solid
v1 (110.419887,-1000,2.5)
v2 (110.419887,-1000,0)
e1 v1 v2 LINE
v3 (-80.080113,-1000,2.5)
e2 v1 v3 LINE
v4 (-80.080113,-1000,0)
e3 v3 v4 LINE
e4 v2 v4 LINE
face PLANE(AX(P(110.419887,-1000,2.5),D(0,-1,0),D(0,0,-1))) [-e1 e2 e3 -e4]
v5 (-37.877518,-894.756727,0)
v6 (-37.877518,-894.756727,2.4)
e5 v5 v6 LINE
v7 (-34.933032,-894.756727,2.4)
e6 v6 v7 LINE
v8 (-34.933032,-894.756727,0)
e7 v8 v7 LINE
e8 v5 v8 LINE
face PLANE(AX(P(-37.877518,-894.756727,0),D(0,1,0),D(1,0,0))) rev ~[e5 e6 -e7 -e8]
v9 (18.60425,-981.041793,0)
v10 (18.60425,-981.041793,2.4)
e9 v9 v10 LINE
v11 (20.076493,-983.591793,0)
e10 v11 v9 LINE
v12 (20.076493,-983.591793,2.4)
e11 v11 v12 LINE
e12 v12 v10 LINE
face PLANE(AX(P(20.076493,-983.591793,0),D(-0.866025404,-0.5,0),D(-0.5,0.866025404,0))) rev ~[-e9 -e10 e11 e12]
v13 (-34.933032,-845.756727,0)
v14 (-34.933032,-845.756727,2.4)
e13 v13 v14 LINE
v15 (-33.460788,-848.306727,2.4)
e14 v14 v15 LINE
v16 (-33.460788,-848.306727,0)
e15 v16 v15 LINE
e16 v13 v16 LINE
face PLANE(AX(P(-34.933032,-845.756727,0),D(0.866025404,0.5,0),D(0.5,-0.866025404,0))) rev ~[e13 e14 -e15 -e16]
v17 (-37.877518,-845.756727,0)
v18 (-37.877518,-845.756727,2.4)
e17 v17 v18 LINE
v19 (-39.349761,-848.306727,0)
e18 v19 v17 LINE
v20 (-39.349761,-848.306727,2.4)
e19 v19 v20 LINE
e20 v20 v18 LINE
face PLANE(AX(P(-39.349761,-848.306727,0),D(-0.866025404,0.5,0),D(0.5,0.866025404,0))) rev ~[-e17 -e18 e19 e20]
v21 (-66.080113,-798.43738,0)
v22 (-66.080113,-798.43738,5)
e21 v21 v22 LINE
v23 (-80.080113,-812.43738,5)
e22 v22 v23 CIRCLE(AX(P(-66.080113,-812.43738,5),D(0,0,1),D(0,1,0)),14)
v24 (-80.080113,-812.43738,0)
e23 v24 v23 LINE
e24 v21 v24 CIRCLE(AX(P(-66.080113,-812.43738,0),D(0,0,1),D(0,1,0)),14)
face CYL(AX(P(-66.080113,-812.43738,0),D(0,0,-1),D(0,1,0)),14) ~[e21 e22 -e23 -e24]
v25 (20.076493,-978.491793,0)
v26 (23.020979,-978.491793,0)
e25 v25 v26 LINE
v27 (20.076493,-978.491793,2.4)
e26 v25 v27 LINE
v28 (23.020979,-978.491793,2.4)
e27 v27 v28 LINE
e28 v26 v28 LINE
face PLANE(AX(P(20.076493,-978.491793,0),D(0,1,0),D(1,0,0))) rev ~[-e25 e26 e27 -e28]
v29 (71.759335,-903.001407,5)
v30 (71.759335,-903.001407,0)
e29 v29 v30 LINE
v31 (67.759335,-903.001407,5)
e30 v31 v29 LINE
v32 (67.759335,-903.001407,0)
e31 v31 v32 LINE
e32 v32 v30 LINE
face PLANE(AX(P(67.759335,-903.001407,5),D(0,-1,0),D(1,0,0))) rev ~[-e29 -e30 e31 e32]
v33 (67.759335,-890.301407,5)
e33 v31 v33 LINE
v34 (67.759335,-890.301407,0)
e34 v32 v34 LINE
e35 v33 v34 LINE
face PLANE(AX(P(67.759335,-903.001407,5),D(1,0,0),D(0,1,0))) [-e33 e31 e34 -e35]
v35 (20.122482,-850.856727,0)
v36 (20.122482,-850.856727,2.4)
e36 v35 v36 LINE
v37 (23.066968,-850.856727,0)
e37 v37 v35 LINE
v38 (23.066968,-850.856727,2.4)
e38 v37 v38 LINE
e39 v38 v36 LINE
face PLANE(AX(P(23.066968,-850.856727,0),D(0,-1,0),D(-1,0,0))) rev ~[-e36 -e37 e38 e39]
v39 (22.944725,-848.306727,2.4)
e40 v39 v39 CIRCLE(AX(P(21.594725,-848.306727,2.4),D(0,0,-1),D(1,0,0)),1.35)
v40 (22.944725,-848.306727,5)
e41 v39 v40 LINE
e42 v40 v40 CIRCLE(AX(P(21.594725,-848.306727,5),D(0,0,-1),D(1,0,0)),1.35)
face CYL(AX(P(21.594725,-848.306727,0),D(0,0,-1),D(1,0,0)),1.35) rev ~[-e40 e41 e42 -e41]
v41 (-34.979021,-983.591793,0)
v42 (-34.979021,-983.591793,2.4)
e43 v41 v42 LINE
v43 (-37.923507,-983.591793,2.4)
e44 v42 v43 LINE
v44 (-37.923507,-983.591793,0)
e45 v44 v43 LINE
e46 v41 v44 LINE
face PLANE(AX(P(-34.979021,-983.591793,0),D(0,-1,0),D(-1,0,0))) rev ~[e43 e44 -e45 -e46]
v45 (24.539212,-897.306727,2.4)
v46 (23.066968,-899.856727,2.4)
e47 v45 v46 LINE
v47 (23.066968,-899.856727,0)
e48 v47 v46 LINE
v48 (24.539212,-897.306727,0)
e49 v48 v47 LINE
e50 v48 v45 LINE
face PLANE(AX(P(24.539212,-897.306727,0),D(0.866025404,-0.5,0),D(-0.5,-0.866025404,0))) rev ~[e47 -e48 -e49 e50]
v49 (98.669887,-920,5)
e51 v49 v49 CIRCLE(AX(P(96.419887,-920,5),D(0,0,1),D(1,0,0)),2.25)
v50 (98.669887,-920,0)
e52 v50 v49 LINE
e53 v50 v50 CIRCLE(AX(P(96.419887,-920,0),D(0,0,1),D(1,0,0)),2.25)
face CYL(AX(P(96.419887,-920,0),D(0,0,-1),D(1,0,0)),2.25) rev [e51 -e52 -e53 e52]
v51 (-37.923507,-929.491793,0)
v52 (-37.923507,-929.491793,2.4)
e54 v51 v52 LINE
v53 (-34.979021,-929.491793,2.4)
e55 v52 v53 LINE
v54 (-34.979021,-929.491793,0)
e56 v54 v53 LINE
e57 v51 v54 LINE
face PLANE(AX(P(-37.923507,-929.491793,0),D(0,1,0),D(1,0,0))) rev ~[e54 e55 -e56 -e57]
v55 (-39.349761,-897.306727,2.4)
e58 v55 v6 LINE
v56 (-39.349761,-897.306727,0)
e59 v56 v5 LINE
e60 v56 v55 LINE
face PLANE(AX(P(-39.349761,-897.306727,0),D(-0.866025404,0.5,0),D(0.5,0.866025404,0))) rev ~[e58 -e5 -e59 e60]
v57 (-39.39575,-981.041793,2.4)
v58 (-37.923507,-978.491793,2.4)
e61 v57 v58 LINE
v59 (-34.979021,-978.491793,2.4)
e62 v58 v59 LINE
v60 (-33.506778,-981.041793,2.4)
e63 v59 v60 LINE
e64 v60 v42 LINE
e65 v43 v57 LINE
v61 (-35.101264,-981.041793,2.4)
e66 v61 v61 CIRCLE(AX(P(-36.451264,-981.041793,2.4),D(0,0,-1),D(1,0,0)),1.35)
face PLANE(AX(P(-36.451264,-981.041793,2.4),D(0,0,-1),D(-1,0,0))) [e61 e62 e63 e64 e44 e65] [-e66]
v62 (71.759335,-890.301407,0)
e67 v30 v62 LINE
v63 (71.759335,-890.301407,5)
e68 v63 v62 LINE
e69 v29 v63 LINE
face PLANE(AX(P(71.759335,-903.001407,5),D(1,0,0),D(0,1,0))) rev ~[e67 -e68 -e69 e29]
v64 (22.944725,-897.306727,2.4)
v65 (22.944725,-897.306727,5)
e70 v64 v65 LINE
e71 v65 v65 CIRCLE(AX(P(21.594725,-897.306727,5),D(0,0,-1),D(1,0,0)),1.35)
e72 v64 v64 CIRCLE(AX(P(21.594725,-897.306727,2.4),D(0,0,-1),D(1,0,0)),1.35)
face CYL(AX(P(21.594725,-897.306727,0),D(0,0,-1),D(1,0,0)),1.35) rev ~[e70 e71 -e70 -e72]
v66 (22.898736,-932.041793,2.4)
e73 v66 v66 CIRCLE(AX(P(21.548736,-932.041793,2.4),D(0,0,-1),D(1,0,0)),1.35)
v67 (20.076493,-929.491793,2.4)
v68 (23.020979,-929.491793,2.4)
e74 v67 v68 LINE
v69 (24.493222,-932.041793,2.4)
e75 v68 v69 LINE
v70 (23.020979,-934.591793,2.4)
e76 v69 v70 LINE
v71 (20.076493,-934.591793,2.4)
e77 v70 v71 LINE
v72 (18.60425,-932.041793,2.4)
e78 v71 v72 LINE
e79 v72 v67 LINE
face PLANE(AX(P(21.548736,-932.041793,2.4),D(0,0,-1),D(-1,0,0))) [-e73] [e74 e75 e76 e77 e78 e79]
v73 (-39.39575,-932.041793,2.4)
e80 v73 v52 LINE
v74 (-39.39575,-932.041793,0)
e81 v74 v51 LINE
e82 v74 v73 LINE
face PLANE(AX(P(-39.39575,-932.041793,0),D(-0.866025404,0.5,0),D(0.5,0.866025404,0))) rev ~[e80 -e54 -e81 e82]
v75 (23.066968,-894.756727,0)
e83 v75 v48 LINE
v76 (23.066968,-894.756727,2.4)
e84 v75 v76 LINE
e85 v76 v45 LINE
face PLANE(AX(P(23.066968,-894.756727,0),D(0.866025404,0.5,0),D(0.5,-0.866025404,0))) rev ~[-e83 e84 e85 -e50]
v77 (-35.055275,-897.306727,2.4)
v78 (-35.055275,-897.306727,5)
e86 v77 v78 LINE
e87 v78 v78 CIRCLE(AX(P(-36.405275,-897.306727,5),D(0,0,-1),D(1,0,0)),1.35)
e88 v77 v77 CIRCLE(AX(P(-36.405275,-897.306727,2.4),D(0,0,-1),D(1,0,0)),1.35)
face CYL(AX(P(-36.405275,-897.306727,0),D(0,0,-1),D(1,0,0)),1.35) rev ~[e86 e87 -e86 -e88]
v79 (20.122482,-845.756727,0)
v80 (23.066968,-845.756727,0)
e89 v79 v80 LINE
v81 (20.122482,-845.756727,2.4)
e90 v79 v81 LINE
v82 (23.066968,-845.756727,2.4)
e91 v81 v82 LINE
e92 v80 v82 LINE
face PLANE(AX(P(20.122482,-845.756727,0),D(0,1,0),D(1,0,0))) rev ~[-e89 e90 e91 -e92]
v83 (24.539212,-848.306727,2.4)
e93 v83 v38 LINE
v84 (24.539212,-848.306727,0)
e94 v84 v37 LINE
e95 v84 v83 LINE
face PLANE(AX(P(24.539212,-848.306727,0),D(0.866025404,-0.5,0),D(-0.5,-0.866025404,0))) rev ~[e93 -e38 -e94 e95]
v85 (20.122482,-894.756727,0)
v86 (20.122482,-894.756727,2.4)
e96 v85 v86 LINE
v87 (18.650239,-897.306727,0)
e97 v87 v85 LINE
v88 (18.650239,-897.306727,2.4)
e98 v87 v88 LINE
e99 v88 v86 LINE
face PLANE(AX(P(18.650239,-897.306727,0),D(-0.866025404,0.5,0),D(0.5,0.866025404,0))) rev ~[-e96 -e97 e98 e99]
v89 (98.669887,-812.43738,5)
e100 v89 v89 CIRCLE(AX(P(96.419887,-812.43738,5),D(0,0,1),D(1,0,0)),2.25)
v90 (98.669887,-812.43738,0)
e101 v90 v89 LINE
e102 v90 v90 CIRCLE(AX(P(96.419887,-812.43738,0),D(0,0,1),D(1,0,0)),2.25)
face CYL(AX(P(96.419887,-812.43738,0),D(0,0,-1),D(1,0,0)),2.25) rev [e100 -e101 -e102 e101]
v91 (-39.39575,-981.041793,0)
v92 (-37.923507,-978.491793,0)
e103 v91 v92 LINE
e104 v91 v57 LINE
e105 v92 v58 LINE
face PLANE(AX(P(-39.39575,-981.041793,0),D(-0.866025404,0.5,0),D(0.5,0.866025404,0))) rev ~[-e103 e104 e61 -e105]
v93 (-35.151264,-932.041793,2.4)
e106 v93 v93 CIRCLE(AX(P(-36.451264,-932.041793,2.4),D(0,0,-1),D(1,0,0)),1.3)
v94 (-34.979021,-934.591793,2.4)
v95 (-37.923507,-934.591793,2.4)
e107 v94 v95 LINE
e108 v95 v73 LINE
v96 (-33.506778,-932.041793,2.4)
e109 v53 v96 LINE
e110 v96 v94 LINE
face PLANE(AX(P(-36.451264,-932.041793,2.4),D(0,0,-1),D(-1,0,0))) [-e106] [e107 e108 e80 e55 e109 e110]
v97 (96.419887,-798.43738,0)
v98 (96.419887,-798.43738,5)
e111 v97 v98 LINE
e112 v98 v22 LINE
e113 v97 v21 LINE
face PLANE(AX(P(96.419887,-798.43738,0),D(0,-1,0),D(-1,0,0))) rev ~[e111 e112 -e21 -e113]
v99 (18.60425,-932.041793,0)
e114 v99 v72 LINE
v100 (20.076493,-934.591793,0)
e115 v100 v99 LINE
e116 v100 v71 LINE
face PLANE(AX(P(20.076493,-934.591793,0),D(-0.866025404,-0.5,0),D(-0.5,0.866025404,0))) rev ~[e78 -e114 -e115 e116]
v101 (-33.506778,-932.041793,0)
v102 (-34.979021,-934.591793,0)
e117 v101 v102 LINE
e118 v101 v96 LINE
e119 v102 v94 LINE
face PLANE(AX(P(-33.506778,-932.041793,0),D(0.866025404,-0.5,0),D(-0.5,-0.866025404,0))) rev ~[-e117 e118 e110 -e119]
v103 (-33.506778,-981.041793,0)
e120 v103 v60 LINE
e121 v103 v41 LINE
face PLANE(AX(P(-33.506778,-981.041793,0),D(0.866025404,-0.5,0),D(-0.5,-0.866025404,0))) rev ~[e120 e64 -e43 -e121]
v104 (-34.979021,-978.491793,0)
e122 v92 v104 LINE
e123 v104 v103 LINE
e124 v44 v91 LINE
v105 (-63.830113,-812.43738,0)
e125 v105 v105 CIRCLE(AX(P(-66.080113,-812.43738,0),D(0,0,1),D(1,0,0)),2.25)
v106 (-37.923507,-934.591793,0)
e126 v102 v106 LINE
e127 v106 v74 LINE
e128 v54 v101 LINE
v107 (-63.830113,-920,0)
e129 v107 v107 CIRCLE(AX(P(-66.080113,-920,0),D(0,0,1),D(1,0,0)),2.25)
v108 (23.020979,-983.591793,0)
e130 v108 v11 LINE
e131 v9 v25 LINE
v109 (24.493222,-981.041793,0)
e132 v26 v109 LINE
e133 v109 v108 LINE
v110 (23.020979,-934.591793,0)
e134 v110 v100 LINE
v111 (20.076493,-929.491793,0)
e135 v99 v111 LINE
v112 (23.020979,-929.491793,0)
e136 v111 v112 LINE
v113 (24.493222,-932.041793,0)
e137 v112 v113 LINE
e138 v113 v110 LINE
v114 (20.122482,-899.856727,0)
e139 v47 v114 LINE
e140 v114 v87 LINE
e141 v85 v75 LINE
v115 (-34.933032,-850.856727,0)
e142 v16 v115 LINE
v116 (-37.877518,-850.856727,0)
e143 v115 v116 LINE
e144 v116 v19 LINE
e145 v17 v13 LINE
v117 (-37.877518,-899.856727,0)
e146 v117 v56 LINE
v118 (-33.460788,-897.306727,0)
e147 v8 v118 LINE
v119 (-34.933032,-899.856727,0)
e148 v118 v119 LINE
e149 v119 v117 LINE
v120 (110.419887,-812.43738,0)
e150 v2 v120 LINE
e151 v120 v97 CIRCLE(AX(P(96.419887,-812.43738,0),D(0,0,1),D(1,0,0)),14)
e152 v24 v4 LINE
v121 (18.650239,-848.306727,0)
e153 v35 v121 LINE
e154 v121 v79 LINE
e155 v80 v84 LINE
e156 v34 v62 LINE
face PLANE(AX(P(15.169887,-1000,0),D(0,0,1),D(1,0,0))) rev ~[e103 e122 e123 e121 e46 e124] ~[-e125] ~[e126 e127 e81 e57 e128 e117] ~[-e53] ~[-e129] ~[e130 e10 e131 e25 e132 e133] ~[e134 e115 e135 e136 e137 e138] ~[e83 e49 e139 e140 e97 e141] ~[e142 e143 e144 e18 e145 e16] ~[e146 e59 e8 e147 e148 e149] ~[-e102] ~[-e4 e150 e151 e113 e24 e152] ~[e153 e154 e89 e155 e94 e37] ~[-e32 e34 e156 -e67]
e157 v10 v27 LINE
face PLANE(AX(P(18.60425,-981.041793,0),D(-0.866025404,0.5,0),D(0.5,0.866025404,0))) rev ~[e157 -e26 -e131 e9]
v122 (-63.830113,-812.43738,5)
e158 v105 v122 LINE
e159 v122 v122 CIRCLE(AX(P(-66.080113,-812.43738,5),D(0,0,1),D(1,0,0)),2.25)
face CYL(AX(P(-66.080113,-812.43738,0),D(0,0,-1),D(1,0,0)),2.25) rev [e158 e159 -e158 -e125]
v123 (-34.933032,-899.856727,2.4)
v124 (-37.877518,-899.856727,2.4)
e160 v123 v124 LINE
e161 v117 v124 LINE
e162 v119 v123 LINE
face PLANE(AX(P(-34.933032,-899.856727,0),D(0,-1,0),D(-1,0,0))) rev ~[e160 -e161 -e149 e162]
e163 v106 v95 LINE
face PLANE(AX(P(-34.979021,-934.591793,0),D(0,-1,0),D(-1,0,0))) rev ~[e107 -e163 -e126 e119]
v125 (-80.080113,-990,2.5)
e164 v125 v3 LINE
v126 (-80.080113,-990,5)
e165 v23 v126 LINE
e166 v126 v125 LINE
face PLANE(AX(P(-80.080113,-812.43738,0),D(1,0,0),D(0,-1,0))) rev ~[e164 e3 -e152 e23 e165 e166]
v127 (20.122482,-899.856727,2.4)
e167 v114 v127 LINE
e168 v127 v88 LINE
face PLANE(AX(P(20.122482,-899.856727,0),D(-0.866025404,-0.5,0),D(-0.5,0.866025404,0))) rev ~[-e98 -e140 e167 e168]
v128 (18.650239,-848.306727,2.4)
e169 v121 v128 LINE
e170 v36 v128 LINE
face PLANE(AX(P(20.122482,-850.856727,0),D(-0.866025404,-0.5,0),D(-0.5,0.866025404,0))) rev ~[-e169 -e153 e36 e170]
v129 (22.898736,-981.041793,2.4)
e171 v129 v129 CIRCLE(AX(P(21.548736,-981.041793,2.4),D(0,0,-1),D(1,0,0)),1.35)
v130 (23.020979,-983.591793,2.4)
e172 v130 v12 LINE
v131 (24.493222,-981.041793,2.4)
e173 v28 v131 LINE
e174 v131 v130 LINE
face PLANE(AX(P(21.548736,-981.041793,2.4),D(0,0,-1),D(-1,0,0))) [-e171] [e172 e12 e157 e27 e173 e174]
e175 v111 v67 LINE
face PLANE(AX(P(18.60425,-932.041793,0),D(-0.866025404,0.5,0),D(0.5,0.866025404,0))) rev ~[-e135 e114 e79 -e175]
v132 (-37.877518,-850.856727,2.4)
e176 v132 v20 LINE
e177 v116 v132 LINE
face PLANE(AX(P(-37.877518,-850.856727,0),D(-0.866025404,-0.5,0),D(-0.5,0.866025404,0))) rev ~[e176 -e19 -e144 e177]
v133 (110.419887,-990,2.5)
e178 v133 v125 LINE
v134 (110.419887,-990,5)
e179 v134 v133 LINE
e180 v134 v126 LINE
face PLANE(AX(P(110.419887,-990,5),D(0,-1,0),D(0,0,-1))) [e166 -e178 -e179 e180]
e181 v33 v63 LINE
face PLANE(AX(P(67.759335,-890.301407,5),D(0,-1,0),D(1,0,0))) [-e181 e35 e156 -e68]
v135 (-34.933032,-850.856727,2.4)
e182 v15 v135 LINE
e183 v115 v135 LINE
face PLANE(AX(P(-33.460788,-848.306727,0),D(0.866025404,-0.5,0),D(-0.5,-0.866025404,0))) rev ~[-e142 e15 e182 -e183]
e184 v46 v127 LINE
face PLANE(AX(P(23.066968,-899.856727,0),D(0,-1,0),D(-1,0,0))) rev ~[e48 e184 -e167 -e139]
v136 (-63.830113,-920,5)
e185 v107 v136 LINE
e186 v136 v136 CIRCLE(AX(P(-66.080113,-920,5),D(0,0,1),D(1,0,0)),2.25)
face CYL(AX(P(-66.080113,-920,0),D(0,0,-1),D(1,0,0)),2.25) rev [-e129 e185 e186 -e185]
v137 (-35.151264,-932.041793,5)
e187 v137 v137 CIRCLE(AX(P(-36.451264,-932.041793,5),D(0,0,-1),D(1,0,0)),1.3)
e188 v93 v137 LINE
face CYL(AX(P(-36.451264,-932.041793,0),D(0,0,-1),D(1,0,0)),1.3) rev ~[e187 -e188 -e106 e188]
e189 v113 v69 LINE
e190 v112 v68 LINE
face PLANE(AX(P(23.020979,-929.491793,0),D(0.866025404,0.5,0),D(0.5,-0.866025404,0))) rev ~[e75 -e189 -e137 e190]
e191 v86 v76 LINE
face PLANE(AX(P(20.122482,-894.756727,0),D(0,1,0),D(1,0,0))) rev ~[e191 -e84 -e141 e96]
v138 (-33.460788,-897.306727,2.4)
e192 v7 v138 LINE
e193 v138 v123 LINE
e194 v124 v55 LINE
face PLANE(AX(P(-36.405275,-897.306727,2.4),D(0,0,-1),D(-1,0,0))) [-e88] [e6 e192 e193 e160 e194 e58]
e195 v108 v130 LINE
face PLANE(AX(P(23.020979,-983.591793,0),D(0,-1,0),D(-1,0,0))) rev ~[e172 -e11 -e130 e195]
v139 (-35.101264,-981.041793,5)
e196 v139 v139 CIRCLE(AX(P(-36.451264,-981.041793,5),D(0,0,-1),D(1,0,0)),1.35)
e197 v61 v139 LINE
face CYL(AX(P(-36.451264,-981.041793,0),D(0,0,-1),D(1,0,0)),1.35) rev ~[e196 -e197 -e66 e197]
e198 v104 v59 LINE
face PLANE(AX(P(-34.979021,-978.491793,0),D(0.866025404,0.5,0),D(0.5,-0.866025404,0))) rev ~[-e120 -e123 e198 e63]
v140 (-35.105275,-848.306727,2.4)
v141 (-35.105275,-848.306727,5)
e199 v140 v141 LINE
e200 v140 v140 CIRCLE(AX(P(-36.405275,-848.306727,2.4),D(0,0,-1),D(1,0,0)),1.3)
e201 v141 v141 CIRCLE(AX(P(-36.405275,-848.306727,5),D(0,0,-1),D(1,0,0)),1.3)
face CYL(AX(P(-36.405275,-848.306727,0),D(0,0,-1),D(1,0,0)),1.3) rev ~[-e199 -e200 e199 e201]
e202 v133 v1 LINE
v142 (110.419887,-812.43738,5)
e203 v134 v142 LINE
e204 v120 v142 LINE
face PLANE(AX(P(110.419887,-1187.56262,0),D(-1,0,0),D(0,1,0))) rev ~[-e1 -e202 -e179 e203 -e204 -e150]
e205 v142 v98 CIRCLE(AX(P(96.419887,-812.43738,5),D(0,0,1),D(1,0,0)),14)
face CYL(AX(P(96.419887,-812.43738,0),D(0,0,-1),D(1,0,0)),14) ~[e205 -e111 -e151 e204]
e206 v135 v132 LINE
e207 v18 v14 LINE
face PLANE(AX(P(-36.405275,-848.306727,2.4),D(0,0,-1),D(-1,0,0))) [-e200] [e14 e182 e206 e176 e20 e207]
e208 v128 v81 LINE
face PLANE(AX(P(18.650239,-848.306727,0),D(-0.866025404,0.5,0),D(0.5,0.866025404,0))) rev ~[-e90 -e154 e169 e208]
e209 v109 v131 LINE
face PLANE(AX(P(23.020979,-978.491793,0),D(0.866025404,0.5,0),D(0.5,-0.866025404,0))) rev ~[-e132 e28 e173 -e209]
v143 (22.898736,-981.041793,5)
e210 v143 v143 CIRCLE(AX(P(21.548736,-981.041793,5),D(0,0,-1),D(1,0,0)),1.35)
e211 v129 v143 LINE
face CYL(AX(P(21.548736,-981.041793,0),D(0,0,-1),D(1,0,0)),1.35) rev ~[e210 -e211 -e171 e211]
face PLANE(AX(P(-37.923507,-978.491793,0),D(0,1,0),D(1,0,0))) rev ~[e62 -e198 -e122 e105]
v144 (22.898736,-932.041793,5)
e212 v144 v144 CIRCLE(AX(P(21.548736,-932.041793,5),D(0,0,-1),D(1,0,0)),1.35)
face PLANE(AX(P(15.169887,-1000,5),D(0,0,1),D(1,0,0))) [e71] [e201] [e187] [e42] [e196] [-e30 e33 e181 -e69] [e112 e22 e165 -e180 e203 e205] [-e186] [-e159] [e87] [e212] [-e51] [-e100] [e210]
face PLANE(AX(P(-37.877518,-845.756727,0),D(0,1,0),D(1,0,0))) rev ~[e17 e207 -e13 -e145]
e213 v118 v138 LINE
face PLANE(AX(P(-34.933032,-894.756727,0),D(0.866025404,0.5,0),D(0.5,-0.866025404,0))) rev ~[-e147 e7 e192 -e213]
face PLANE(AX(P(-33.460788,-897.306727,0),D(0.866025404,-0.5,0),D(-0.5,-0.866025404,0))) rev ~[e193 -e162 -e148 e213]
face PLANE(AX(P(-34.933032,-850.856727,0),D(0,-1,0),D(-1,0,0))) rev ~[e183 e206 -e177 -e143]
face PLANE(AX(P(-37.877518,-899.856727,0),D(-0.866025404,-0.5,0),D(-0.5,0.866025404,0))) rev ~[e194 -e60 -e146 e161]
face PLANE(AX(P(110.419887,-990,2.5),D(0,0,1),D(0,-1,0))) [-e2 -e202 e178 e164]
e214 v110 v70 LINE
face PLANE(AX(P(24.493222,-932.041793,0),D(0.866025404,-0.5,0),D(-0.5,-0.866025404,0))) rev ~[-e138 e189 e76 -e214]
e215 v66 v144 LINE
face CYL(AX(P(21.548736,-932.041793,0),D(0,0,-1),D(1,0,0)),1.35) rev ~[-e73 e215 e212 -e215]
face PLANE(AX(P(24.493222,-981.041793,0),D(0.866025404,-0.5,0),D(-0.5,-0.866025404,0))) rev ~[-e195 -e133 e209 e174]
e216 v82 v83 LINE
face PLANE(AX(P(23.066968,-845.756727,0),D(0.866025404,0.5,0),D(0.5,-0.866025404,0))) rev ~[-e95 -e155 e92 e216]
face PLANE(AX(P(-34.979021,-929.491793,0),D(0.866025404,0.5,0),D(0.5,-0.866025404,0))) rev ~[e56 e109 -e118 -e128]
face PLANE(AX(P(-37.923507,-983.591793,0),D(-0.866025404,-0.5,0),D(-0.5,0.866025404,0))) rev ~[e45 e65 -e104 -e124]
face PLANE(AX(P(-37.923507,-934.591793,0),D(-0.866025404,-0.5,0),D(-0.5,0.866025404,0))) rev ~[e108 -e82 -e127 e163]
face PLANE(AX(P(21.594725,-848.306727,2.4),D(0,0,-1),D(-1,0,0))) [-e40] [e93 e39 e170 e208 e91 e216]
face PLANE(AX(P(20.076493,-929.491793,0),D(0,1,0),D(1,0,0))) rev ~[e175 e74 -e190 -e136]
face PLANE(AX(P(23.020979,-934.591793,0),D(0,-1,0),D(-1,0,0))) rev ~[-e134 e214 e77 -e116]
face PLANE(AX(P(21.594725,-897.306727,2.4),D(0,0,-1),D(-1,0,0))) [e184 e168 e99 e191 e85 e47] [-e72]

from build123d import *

# Parameters (mm, degrees)
SKETCH4_R           = 2.25
SKETCH4_R_2         = 7.9375
BOSS_EXTRUDE1_DEPTH = 5
CUT_EXTRUDE1_DEPTH  = 191.5
SKETCH8_R           = 1.35
SKETCH8_R_2         = 1.3
CUT_EXTRUDE2_DEPTH  = 6
SKETCH9_R           = 1.35
SKETCH9_R_2         = 1.3
CUT_EXTRUDE3_DEPTH  = 6
CUT_EXTRUDE4_DEPTH  = 2.4
SKETCH12_W          = 4
SKETCH12_H          = 12.7
CUT_EXTRUDE5_DEPTH  = 6


with BuildPart() as part:
    # Sketch4 → Boss-Extrude1 (new body)
    with BuildSketch(Plane.XY):
        with BuildLine():
            Line((-66.080112923, -1201.56262), (96.419887077, -1201.56262))
            ThreePointArc((96.419887077, -1201.56262), (106.319382013, -1197.462114937), (110.419887077, -1187.56262))
            Line((110.419887077, -1187.56262), (110.419887077, -812.43738))
            ThreePointArc((110.419887077, -812.43738), (106.319382013, -802.537885063), (96.419887077, -798.43738))
            Line((96.419887077, -798.43738), (-66.080112923, -798.43738))
            ThreePointArc((-66.080112923, -798.43738), (-75.97960786, -802.537885063), (-80.080112923, -812.43738))
            Line((-80.080112923, -812.43738), (-80.080112923, -1187.56262))
            ThreePointArc((-80.080112923, -1187.56262), (-75.97960786, -1197.462114937), (-66.080112923, -1201.56262))
        make_face()
        with Locations((96.419887077, -1080)):
            Circle(SKETCH4_R, mode=Mode.SUBTRACT)
        with Locations((88.147808187, -1029.0799835)):
            Circle(SKETCH4_R_2, mode=Mode.SUBTRACT)
        with Locations((-66.080112923, -1080)):
            Circle(SKETCH4_R, mode=Mode.SUBTRACT)
        with Locations((96.419887077, -920)):
            Circle(SKETCH4_R, mode=Mode.SUBTRACT)
        with Locations((-66.080112923, -920)):
            Circle(SKETCH4_R, mode=Mode.SUBTRACT)
        with Locations((-66.080112923, -1187.56262)):
            Circle(SKETCH4_R, mode=Mode.SUBTRACT)
        with Locations((96.419887077, -1187.56262)):
            Circle(SKETCH4_R, mode=Mode.SUBTRACT)
        with Locations((-66.080112923, -812.43738)):
            Circle(SKETCH4_R, mode=Mode.SUBTRACT)
        with Locations((96.419887077, -812.43738)):
            Circle(SKETCH4_R, mode=Mode.SUBTRACT)
    extrude(amount=BOSS_EXTRUDE1_DEPTH)

    # Sketch5 → Cut-Extrude1 (cut, through all)
    with BuildSketch(Plane(origin=(110.419887077, 0, 0), x_dir=(0, 0, -1), z_dir=(1, 0, 0))):
        Polygon((-2.5, -990), (-2.5, -1000), (0, -1000), (105.330135386, -1133.485190723), (-31.100407904, -1241.139436993), (-117.784745415, -1052.296655995), (-5, -990), align=None)
    extrude(amount=-CUT_EXTRUDE1_DEPTH, mode=Mode.SUBTRACT)

    # Sketch8 → Cut-Extrude2 (cut, through all)
    with BuildSketch(Plane(origin=(0, 0, 0), x_dir=(1, 0, 0), z_dir=(0, 0, -1))):
        with Locations((-36.405274736, 897.30672742)):
            Circle(SKETCH8_R)
        with Locations((21.594725264, 897.30672742)):
            Circle(SKETCH8_R)
        with Locations((21.594725264, 848.30672742)):
            Circle(SKETCH8_R)
        with Locations((-36.405274736, 848.30672742)):
            Circle(SKETCH8_R_2)
    extrude(amount=-CUT_EXTRUDE2_DEPTH, mode=Mode.SUBTRACT)

    # Sketch9 → Cut-Extrude3 (cut, through all)
    with BuildSketch(Plane(origin=(0, 0, 0), x_dir=(1, 0, 0), z_dir=(0, 0, -1))):
        with Locations((-36.451263927, 981.041793441)):
            Circle(SKETCH9_R)
        with Locations((21.548736073, 981.041793441)):
            Circle(SKETCH9_R)
        with Locations((21.548736073, 932.041793441)):
            Circle(SKETCH9_R)
        with Locations((-36.451263927, 932.041793441)):
            Circle(SKETCH9_R_2)
    extrude(amount=-CUT_EXTRUDE3_DEPTH, mode=Mode.SUBTRACT)

    # Sketch11 → Cut-Extrude4 (cut)
    with BuildSketch(Plane(origin=(0, 0, 0), x_dir=(-1, 0, 0), z_dir=(0, 0, -1))):
        Polygon((-20.122482078, -845.75672742), (-23.066968451, -845.75672742), (-24.539211637, -848.30672742), (-23.066968451, -850.85672742), (-20.122482078, -850.85672742), (-18.650238891, -848.30672742), align=None)
        Polygon((34.933031549, -845.75672742), (33.460788363, -848.30672742), (34.933031549, -850.85672742), (37.877517922, -850.85672742), (39.349761109, -848.30672742), (37.877517922, -845.75672742), align=None)
        Polygon((34.933031549, -894.75672742), (33.460788363, -897.30672742), (34.933031549, -899.85672742), (37.877517922, -899.85672742), (39.349761109, -897.30672742), (37.877517922, -894.75672742), align=None)
        Polygon((-20.122482078, -894.75672742), (-23.066968451, -894.75672742), (-24.539211637, -897.30672742), (-23.066968451, -899.85672742), (-20.122482078, -899.85672742), (-18.650238891, -897.30672742), align=None)
        Polygon((-20.076492886, -929.491793441), (-23.020979259, -929.491793441), (-24.493222445, -932.041793441), (-23.020979259, -934.591793441), (-20.076492886, -934.591793441), (-18.6042497, -932.041793441), align=None)
        Polygon((34.979020741, -929.491793441), (33.506777555, -932.041793441), (34.979020741, -934.591793441), (37.923507114, -934.591793441), (39.3957503, -932.041793441), (37.923507114, -929.491793441), align=None)
        Polygon((-23.020979259, -978.491793441), (-24.493222445, -981.041793441), (-23.020979259, -983.591793441), (-20.076492886, -983.591793441), (-18.6042497, -981.041793441), (-20.076492886, -978.491793441), align=None)
        Polygon((34.979020741, -978.491793441), (33.506777555, -981.041793441), (34.979020741, -983.591793441), (37.923507114, -983.591793441), (39.3957503, -981.041793441), (37.923507114, -978.491793441), align=None)
    extrude(amount=-CUT_EXTRUDE4_DEPTH, mode=Mode.SUBTRACT)

    # Sketch12 → Cut-Extrude5 (cut, through all)
    with BuildSketch(Plane.XY.offset(5)):
        with Locations((69.759334594, -896.65140708)):
            Rectangle(SKETCH12_W, SKETCH12_H)
    extrude(amount=-CUT_EXTRUDE5_DEPTH, mode=Mode.SUBTRACT)


solid = part.part
